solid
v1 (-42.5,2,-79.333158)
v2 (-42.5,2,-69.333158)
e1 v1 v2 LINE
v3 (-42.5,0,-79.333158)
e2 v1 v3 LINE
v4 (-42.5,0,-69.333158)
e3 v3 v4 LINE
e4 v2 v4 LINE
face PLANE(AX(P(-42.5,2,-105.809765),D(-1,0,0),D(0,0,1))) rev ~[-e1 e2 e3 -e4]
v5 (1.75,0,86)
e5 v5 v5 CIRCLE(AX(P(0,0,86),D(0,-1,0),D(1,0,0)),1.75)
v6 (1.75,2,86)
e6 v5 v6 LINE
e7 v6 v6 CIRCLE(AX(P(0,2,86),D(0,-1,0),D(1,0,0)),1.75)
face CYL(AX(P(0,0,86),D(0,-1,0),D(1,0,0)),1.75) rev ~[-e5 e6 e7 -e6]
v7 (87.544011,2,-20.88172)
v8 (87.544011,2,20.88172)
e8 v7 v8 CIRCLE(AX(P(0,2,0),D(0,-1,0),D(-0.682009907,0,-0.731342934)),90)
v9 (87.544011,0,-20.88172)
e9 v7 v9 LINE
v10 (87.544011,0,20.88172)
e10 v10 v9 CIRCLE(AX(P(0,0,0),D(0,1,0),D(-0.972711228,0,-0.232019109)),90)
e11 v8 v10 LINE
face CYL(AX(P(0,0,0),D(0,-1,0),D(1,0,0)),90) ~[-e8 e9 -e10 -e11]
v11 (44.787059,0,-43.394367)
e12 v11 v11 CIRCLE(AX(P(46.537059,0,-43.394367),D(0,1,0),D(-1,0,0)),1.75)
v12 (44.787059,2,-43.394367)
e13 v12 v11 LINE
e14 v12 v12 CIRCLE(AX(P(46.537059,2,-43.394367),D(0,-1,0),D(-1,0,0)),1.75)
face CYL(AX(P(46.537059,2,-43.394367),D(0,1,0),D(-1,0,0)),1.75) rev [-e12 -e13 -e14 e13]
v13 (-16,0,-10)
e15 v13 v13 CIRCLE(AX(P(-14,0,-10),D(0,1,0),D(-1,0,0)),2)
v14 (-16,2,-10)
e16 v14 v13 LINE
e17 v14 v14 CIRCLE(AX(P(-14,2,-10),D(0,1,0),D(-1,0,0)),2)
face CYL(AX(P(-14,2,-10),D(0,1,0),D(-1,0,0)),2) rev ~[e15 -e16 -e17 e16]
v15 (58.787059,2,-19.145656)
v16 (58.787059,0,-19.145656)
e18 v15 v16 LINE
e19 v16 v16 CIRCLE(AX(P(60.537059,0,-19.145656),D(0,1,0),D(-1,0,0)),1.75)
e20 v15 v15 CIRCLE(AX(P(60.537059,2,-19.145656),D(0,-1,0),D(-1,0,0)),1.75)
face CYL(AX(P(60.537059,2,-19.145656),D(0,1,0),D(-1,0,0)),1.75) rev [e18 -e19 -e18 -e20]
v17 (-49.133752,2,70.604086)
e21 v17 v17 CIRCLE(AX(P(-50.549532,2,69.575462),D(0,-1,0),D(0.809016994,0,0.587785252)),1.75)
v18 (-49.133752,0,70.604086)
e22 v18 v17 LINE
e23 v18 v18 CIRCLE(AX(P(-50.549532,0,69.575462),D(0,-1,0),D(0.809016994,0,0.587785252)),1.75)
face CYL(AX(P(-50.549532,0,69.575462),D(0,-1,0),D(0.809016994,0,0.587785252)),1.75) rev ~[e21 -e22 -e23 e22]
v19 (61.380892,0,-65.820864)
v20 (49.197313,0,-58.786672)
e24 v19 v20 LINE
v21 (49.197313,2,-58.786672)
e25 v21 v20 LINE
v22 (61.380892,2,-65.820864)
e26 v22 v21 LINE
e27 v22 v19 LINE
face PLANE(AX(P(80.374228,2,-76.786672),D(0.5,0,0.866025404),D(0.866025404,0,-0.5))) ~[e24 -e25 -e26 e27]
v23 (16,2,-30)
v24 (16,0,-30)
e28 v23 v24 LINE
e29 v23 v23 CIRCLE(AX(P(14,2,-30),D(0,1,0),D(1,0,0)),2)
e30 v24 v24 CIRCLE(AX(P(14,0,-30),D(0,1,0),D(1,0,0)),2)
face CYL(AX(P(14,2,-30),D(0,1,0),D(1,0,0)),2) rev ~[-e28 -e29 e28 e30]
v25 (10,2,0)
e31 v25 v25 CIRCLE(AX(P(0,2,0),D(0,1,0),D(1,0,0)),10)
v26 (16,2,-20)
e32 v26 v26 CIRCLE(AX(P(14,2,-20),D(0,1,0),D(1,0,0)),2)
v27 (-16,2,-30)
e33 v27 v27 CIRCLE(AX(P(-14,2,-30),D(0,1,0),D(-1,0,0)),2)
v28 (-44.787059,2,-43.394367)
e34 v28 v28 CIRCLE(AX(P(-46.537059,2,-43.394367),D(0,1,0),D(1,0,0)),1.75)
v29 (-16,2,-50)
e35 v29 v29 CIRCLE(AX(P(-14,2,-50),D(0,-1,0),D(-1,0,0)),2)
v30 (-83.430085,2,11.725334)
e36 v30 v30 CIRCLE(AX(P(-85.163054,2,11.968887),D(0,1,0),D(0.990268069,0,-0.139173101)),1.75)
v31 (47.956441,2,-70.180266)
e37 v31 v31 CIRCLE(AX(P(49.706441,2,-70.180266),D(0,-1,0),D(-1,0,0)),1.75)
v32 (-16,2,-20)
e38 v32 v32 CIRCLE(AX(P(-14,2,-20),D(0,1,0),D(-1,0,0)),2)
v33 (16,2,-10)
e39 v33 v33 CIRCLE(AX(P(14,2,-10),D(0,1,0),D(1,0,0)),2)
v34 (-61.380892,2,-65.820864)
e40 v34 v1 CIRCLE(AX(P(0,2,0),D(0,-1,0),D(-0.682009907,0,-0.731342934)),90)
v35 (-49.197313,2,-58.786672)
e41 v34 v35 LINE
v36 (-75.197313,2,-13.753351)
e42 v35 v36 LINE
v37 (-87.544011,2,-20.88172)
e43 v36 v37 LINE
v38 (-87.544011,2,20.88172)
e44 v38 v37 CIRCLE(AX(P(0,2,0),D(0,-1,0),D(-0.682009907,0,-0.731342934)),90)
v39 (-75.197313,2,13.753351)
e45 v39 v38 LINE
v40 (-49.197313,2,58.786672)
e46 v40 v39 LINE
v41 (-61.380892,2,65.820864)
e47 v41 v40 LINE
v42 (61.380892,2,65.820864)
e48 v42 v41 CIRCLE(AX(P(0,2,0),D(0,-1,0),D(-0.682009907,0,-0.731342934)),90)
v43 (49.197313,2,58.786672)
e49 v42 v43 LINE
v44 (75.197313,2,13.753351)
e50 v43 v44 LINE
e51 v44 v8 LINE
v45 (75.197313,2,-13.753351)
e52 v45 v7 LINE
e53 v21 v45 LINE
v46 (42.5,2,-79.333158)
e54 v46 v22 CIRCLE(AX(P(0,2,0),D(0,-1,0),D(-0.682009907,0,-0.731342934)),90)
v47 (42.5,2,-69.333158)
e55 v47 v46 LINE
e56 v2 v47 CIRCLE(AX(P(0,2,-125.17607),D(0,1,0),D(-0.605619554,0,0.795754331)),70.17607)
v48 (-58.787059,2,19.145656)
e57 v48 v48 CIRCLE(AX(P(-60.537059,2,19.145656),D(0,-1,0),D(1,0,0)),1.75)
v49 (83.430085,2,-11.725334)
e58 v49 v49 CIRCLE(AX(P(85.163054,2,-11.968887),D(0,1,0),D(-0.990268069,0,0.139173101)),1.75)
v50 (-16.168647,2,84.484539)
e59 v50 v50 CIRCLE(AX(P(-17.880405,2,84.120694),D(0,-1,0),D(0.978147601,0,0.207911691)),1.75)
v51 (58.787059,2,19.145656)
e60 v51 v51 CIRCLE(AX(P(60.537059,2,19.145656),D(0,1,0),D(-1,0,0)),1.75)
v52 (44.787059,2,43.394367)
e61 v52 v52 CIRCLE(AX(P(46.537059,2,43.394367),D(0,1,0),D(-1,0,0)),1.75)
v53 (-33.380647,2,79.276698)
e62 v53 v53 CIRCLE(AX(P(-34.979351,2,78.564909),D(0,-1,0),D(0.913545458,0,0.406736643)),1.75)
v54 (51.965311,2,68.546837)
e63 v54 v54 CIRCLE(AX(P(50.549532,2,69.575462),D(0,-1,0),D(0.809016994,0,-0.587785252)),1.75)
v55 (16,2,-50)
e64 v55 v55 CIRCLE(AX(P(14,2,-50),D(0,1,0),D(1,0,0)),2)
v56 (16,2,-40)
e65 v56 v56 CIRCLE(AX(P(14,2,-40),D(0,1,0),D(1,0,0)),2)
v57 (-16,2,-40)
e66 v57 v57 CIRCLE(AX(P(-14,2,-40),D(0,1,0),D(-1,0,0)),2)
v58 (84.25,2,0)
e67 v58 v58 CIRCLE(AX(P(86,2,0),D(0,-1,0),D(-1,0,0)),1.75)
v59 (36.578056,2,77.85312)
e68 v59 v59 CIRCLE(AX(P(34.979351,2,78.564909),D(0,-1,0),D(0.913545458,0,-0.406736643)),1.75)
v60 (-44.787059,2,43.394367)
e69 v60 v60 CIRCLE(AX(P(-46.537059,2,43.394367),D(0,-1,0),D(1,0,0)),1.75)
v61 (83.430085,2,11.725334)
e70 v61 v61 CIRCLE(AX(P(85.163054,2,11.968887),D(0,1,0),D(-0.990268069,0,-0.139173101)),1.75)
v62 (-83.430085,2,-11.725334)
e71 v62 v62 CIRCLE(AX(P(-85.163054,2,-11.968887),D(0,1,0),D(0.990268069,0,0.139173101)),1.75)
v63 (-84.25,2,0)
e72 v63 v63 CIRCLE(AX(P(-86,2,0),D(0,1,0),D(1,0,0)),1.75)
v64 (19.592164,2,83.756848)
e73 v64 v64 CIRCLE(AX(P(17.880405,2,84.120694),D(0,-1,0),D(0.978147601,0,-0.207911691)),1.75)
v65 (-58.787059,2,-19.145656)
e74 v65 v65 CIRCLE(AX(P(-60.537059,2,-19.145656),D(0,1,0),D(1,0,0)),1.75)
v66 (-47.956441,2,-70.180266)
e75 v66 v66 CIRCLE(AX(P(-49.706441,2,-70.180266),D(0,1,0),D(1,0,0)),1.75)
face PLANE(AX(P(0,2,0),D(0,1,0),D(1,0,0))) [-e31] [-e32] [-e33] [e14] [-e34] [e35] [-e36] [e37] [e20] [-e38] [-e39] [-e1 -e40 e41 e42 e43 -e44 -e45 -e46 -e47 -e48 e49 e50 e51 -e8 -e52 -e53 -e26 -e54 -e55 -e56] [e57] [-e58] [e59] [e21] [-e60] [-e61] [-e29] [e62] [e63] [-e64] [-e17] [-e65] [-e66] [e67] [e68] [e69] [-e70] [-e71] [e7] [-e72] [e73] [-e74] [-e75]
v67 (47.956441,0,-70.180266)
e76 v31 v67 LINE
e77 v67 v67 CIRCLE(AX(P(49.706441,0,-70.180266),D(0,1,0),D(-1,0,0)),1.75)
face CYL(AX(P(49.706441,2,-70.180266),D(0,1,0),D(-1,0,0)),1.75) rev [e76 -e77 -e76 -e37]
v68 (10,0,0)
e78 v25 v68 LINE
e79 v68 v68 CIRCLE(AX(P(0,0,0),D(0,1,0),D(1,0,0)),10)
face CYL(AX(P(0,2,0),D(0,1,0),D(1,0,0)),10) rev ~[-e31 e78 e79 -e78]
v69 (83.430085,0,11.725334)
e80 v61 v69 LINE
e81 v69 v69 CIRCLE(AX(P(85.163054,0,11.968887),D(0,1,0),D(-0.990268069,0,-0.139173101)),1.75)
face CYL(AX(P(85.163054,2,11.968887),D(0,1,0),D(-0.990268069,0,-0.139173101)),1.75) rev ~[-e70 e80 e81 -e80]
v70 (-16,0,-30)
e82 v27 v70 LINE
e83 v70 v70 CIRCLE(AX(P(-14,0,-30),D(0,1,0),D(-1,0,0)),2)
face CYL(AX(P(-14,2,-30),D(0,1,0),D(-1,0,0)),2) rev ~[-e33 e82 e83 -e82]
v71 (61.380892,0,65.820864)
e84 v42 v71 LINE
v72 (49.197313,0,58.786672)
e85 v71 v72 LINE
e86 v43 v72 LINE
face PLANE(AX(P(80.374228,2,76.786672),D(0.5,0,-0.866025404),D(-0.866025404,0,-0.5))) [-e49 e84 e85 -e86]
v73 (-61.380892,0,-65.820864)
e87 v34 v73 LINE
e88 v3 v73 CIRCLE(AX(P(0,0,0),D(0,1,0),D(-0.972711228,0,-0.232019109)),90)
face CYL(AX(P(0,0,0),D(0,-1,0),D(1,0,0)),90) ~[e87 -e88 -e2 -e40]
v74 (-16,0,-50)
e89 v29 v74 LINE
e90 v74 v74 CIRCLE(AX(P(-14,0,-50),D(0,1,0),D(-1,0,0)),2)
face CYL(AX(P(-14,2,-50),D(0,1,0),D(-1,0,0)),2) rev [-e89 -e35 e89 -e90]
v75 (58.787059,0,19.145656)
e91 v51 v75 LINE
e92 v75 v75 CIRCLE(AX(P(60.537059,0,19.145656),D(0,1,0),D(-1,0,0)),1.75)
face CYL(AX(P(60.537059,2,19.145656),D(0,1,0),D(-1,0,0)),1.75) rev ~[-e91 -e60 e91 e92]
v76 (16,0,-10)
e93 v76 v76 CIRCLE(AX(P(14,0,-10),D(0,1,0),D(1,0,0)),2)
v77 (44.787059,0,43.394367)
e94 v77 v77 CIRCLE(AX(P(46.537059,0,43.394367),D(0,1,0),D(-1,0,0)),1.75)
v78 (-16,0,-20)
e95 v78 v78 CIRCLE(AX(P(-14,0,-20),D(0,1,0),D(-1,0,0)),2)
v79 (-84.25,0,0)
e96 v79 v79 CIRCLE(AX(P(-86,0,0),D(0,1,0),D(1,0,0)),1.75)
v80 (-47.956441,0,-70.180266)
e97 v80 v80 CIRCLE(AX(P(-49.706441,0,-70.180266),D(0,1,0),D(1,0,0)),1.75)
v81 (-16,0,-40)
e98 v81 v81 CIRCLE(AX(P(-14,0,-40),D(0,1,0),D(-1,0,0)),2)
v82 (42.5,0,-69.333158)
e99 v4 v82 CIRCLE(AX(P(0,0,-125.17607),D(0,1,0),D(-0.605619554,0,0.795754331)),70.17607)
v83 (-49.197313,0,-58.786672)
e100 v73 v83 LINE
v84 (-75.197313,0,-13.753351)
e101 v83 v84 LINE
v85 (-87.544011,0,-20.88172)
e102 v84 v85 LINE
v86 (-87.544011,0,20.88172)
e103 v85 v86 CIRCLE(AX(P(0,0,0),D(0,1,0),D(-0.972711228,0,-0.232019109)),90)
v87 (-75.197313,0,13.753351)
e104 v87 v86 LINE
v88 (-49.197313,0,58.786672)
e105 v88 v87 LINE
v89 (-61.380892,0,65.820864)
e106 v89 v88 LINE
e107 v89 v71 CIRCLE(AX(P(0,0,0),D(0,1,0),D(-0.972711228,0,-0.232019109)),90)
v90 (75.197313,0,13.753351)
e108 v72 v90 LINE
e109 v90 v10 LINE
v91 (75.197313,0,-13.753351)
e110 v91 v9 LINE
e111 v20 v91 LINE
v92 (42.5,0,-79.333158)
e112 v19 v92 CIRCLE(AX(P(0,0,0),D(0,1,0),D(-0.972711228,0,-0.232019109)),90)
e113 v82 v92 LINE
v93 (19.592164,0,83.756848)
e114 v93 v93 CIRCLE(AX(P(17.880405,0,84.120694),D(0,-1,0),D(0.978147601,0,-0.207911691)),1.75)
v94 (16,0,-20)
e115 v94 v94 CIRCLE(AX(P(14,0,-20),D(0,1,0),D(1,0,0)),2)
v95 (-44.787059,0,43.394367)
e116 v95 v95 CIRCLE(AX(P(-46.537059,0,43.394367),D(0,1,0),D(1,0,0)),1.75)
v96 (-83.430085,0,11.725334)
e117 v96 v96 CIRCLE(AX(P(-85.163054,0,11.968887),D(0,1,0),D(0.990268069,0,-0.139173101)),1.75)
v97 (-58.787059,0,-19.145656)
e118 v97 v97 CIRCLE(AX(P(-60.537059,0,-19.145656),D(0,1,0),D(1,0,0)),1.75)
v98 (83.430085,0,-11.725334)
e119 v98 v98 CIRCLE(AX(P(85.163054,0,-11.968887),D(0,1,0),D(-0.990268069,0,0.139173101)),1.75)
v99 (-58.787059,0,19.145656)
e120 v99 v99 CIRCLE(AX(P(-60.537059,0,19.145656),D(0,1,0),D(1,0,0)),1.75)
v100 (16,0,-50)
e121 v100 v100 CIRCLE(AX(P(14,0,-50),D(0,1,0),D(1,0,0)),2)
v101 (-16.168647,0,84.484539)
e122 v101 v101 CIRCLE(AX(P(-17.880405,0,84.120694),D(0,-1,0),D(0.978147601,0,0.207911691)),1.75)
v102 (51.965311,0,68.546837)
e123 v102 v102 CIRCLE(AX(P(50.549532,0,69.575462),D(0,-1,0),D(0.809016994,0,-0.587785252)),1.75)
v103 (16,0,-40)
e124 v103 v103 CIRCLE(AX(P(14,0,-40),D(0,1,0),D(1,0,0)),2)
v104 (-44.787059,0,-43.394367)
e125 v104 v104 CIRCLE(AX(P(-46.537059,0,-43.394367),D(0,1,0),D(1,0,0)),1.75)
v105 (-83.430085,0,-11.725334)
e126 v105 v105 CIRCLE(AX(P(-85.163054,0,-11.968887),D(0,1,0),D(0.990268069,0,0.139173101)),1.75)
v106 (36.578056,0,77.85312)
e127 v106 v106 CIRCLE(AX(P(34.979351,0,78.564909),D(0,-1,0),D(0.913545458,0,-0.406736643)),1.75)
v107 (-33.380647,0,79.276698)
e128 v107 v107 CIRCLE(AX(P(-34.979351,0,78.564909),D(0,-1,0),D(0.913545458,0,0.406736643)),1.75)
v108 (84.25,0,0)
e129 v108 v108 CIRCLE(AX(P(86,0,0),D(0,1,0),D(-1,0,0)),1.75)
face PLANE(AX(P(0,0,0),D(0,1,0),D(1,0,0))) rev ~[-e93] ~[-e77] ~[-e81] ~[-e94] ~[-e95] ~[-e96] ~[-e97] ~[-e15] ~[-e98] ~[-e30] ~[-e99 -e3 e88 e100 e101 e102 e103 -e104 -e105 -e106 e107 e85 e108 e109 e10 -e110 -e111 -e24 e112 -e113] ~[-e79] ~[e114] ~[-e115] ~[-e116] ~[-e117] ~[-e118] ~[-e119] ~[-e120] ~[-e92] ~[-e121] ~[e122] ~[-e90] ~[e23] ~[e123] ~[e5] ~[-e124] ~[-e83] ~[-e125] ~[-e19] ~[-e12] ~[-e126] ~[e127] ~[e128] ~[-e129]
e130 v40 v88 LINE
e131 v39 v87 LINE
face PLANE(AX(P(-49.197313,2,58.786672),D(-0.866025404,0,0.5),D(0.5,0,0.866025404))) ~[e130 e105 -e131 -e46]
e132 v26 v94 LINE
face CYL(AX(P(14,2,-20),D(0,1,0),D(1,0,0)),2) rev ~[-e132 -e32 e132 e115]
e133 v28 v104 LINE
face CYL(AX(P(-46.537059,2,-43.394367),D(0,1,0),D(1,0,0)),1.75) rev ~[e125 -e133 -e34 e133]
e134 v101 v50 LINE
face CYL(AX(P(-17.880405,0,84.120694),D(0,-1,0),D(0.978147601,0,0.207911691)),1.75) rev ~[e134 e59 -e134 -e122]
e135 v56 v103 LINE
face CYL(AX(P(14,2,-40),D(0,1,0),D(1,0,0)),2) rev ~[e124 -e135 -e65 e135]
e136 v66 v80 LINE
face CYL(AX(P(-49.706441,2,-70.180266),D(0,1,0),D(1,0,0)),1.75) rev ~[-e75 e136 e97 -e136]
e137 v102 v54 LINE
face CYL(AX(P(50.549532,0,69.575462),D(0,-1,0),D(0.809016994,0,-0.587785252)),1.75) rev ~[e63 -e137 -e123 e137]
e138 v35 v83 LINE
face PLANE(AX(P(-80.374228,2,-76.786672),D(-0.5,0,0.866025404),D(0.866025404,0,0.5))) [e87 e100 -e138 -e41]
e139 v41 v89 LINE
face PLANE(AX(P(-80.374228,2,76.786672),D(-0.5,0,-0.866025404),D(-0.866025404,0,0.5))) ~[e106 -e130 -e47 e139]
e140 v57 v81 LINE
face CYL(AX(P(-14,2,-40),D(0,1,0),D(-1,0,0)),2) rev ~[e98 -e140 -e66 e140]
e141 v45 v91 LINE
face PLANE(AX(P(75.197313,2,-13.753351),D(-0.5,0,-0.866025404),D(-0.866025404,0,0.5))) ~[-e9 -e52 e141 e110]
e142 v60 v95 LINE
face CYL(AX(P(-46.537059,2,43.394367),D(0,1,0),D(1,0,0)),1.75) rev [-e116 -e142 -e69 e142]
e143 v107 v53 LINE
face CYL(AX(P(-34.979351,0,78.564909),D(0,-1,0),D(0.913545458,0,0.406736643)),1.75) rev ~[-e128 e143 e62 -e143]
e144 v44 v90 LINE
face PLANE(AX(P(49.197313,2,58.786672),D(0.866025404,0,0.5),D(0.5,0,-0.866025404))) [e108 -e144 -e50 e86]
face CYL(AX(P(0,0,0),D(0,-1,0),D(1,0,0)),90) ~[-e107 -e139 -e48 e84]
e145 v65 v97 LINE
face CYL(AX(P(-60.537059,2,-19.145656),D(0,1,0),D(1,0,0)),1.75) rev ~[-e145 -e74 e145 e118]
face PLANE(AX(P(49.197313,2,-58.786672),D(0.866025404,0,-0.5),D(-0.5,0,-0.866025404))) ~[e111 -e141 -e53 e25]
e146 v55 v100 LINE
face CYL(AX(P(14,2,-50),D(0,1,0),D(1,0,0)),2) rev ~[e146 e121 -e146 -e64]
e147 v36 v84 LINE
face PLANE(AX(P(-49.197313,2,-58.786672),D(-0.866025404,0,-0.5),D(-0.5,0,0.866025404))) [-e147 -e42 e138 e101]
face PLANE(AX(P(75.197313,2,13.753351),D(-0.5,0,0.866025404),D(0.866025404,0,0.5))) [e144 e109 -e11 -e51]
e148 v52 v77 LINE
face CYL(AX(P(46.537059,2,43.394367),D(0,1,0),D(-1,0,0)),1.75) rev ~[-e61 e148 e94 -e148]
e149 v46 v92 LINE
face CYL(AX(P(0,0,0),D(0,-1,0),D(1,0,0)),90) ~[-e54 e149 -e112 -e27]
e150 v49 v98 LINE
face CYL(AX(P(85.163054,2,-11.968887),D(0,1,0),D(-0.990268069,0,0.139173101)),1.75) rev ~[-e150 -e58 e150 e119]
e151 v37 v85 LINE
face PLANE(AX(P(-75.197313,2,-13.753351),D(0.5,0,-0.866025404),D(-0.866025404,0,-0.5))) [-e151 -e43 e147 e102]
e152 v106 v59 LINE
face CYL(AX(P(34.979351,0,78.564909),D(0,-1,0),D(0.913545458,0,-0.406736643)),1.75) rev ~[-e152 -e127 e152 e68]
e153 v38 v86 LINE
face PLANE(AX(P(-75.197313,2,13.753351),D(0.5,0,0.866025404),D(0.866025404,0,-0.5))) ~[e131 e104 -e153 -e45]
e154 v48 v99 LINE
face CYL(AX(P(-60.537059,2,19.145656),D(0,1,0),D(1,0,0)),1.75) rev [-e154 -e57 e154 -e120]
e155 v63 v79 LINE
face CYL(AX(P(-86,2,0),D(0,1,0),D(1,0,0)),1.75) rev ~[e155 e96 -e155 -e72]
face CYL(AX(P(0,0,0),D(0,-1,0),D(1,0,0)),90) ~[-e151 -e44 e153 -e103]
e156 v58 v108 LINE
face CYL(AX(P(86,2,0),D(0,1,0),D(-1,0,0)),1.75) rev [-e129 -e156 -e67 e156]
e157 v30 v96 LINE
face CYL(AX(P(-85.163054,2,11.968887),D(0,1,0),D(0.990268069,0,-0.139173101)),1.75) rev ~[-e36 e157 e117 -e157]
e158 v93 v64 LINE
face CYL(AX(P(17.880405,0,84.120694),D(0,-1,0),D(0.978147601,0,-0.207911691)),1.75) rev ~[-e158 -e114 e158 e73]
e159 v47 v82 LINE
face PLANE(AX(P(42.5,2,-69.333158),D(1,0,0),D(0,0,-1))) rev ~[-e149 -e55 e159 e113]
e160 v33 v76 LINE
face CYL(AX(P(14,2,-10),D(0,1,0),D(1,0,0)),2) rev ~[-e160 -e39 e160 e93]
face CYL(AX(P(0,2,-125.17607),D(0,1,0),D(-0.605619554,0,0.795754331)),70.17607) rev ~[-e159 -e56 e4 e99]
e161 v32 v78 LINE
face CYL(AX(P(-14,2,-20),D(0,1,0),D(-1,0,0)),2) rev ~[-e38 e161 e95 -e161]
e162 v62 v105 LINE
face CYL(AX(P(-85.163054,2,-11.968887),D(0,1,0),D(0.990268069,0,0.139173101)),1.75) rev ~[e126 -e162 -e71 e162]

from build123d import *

# Parameters (mm, degrees)
SKETCH1_R                       = 90
BOSS_EXTRUDE1_DEPTH             = 2
CUT_EXTRUDE1_DEPTH              = 3
SKETCH5_R                       = 1.75
CUT_EXTRUDE3_DEPTH              = 3
MIRROR2_COPY_1_DEPTH            = 3
MIRROR2_COPY_2_SKETCH_R         = 1.75
MIRROR2_COPY_2_DEPTH            = 3
CUT_EXTRUDE2_DEPTH              = 3
SKETCH6_R                       = 10
CUT_EXTRUDE4_DEPTH              = 3
SKETCH7_R                       = 1.75
CUT_EXTRUDE5_DEPTH              = 3
CIRPATTERN1_COUNT               = 4
CIRPATTERN1_ANGLE               = 36
CIRPATTERN1_THE_OTHER_WAY_COUNT = 4
CIRPATTERN1_THE_OTHER_WAY_ANGLE = 36
SKETCH8_R                       = 1.75
CUT_EXTRUDE6_DEPTH              = 3
SKETCH9_R                       = 1.75
CUT_EXTRUDE7_DEPTH              = 3
CIRPATTERN2_COUNT               = 2
CIRPATTERN2_ANGLE               = 8
CIRPATTERN2_THE_OTHER_WAY_COUNT = 2
CIRPATTERN2_THE_OTHER_WAY_ANGLE = 8
MIRROR3_COPY_1_SKETCH_R         = 1.75
MIRROR3_COPY_1_DEPTH            = 3
MIRROR3_COPY_2_SKETCH_R         = 1.75
MIRROR3_COPY_2_DEPTH            = 3
SKETCH10_R                      = 2
CUT_EXTRUDE8_DEPTH              = 3
LPATTERN1_COUNT                 = 5
LPATTERN1_PITCH                 = 10
LPATTERN1_COPY_1_SKETCH_R       = 2
LPATTERN1_COPY_1_DEPTH          = 3
LPATTERN1_COPY_2_SKETCH_R       = 2
LPATTERN1_COPY_2_DEPTH          = 3
LPATTERN1_COPY_3_SKETCH_R       = 2
LPATTERN1_COPY_3_DEPTH          = 3
LPATTERN1_COPY_4_SKETCH_R       = 2
LPATTERN1_COPY_4_DEPTH          = 3


with BuildPart() as part:
    # Sketch1 → Boss-Extrude1 (new body)
    with BuildSketch(Plane(origin=(0, 0, 0), x_dir=(1, 0, 0), z_dir=(0, 1, 0))):
        Circle(SKETCH1_R)
    extrude(amount=BOSS_EXTRUDE1_DEPTH)

    # Sketch3 → Cut-Extrude1 (cut, through all)
    with BuildSketch(Plane(origin=(0, 2, 0), x_dir=(1, 0, 0), z_dir=(0, 1, 0))):
        Polygon((-106.374227687, 31.753350771), (-80.374227687, 76.786671768), (-49.197313151, 58.786671768), (-75.197313151, 13.753350771), align=None)
    cut_extrude1 = extrude(amount=-CUT_EXTRUDE1_DEPTH, mode=Mode.SUBTRACT)

    # Sketch5 → Cut-Extrude3 (cut, through all)
    with BuildSketch(Plane(origin=(0, 2, 0), x_dir=(1, 0, 0), z_dir=(0, 1, 0))):
        with Locations((-60.537059113, 19.145655616)):
            Circle(SKETCH5_R)
        with Locations((-46.537059113, 43.394366922)):
            Circle(SKETCH5_R)
    cut_extrude3 = extrude(amount=-CUT_EXTRUDE3_DEPTH, mode=Mode.SUBTRACT)

    # Mirror1: Cut-Extrude1, Cut-Extrude3 across plane
    add(cut_extrude1.mirror(Plane.XY), mode=Mode.SUBTRACT)
    add(cut_extrude3.mirror(Plane.XY), mode=Mode.SUBTRACT)

    # Mirror2: Cut-Extrude1, Cut-Extrude3 across plane
    add(cut_extrude1.mirror(Plane(origin=(0, 0, 0), x_dir=(0, 0, 1), z_dir=(1, 0, 0))), mode=Mode.SUBTRACT)
    add(cut_extrude3.mirror(Plane(origin=(0, 0, 0), x_dir=(0, 0, 1), z_dir=(1, 0, 0))), mode=Mode.SUBTRACT)

    # Mirror2 copy 1 sketch → Mirror2 copy 1 (cut, through all)
    with BuildSketch(Plane(origin=(0, 2, 0), x_dir=(-1, 0, 0), z_dir=(0, 1, 0))):
        Polygon((-106.374227687, 31.753350771), (-80.374227687, 76.786671768), (-49.197313151, 58.786671768), (-75.197313151, 13.753350771), align=None)
    extrude(amount=-MIRROR2_COPY_1_DEPTH, mode=Mode.SUBTRACT)

    # Mirror2 copy 2 sketch → Mirror2 copy 2 (cut, through all)
    with BuildSketch(Plane(origin=(0, 2, 0), x_dir=(-1, 0, 0), z_dir=(0, 1, 0))):
        with Locations((-60.537059113, 19.145655616)):
            Circle(MIRROR2_COPY_2_SKETCH_R)
        with Locations((-46.537059113, 43.394366922)):
            Circle(MIRROR2_COPY_2_SKETCH_R)
    extrude(amount=-MIRROR2_COPY_2_DEPTH, mode=Mode.SUBTRACT)

    # Sketch4 → Cut-Extrude2 (cut, through all)
    with BuildSketch(Plane(origin=(0, 2, 0), x_dir=(1, 0, 0), z_dir=(0, 1, 0))):
        with BuildLine():
            Line((-42.5, 79.333158263), (-42.5, 69.333158263))
            ThreePointArc((-42.5, 69.333158263), (0, 55), (42.5, 69.333158263))
            Line((42.5, 69.333158263), (42.5, 79.333158263))
            Line((42.5, 79.333158263), (42.5, 105.809765059))
            Line((42.5, 105.809765059), (-42.5, 105.809765059))
            Line((-42.5, 105.809765059), (-42.5, 79.333158263))
        make_face()
    extrude(amount=-CUT_EXTRUDE2_DEPTH, mode=Mode.SUBTRACT)

    # Sketch6 → Cut-Extrude4 (cut, through all)
    with BuildSketch(Plane(origin=(0, 2, 0), x_dir=(1, 0, 0), z_dir=(0, 1, 0))):
        Circle(SKETCH6_R)
    extrude(amount=-CUT_EXTRUDE4_DEPTH, mode=Mode.SUBTRACT)

    # Sketch7 → Cut-Extrude5 (cut, through all)
    with BuildSketch(Plane.XZ):
        with Locations((0, 86)):
            Circle(SKETCH7_R)
    cut_extrude5 = extrude(amount=-CUT_EXTRUDE5_DEPTH, mode=Mode.SUBTRACT)

    # CirPattern1: Cut-Extrude5 ×4 about axis
    cirpattern1_axis = Axis((0, 0, 0), (0, 1, 0))
    for i in range(1, CIRPATTERN1_COUNT):
        add(cut_extrude5.rotate(cirpattern1_axis, i * CIRPATTERN1_ANGLE / (CIRPATTERN1_COUNT - 1)), mode=Mode.SUBTRACT)

    # CirPattern1 the other way: Cut-Extrude5 ×4 about axis
    cirpattern1_the_other_way_axis = Axis((0, 0, 0), (0, -1, 0))
    for i in range(1, CIRPATTERN1_THE_OTHER_WAY_COUNT):
        add(cut_extrude5.rotate(cirpattern1_the_other_way_axis, i * CIRPATTERN1_THE_OTHER_WAY_ANGLE / (CIRPATTERN1_THE_OTHER_WAY_COUNT - 1)), mode=Mode.SUBTRACT)

    # Sketch8 → Cut-Extrude6 (cut, through all)
    with BuildSketch(Plane(origin=(0, 2, 0), x_dir=(1, 0, 0), z_dir=(0, 1, 0))):
        with Locations((-86, 0)):
            Circle(SKETCH8_R)
    cut_extrude6 = extrude(amount=-CUT_EXTRUDE6_DEPTH, mode=Mode.SUBTRACT)

    # Sketch9 → Cut-Extrude7 (cut, through all)
    with BuildSketch(Plane(origin=(0, 2, 0), x_dir=(1, 0, 0), z_dir=(0, 1, 0))):
        with Locations((-49.706440821, 70.180266036)):
            Circle(SKETCH9_R)
    cut_extrude7 = extrude(amount=-CUT_EXTRUDE7_DEPTH, mode=Mode.SUBTRACT)

    # CirPattern2: Cut-Extrude6 ×2 about axis
    cirpattern2_axis = Axis((0, 2, 0), (0, 1, 0))
    for i in range(1, CIRPATTERN2_COUNT):
        add(cut_extrude6.rotate(cirpattern2_axis, i * CIRPATTERN2_ANGLE / (CIRPATTERN2_COUNT - 1)), mode=Mode.SUBTRACT)

    # CirPattern2 the other way: Cut-Extrude6 ×2 about axis
    cirpattern2_the_other_way_axis = Axis((0, 2, 0), (0, -1, 0))
    for i in range(1, CIRPATTERN2_THE_OTHER_WAY_COUNT):
        add(cut_extrude6.rotate(cirpattern2_the_other_way_axis, i * CIRPATTERN2_THE_OTHER_WAY_ANGLE / (CIRPATTERN2_THE_OTHER_WAY_COUNT - 1)), mode=Mode.SUBTRACT)

    # Mirror3: Cut-Extrude7, Cut-Extrude6 across plane
    add(cut_extrude7.mirror(Plane(origin=(0, 0, 0), x_dir=(0, 0, 1), z_dir=(1, 0, 0))), mode=Mode.SUBTRACT)
    add(cut_extrude6.mirror(Plane(origin=(0, 0, 0), x_dir=(0, 0, 1), z_dir=(1, 0, 0))), mode=Mode.SUBTRACT)

    # Mirror3 copy 1 sketch → Mirror3 copy 1 (cut, through all)
    with BuildSketch(Plane(origin=(0, 2, 0), x_dir=(-0.990268069, 0, -0.139173101), z_dir=(0, 1, 0))):
        with Locations((-86, 0)):
            Circle(MIRROR3_COPY_1_SKETCH_R)
    extrude(amount=-MIRROR3_COPY_1_DEPTH, mode=Mode.SUBTRACT)

    # Mirror3 copy 2 sketch → Mirror3 copy 2 (cut, through all)
    with BuildSketch(Plane(origin=(0, 2, 0), x_dir=(-0.990268069, 0, 0.139173101), z_dir=(0, 1, 0))):
        with Locations((-86, 0)):
            Circle(MIRROR3_COPY_2_SKETCH_R)
    extrude(amount=-MIRROR3_COPY_2_DEPTH, mode=Mode.SUBTRACT)

    # Sketch10 → Cut-Extrude8 (cut, through all)
    with BuildSketch(Plane(origin=(0, 2, 0), x_dir=(1, 0, 0), z_dir=(0, 1, 0))):
        with Locations((14, 50)):
            Circle(SKETCH10_R)
    cut_extrude8 = extrude(amount=-CUT_EXTRUDE8_DEPTH, mode=Mode.SUBTRACT)

    # Mirror4: Cut-Extrude8 across plane
    add(cut_extrude8.mirror(Plane(origin=(0, 0, 0), x_dir=(0, 0, 1), z_dir=(1, 0, 0))), mode=Mode.SUBTRACT)

    # LPattern1: Cut-Extrude8 ×5
    with Locations(*[(0, 0, i * LPATTERN1_PITCH) for i in range(1, LPATTERN1_COUNT)]):
        add(cut_extrude8, mode=Mode.SUBTRACT)

    # LPattern1 copy 1 sketch → LPattern1 copy 1 (cut, through all)
    with BuildSketch(Plane(origin=(0, 2, 10), x_dir=(-1, 0, 0), z_dir=(0, 1, 0))):
        with Locations((14, -50)):
            Circle(LPATTERN1_COPY_1_SKETCH_R)
    extrude(amount=-LPATTERN1_COPY_1_DEPTH, mode=Mode.SUBTRACT)

    # LPattern1 copy 2 sketch → LPattern1 copy 2 (cut, through all)
    with BuildSketch(Plane(origin=(0, 2, 20), x_dir=(-1, 0, 0), z_dir=(0, 1, 0))):
        with Locations((14, -50)):
            Circle(LPATTERN1_COPY_2_SKETCH_R)
    extrude(amount=-LPATTERN1_COPY_2_DEPTH, mode=Mode.SUBTRACT)

    # LPattern1 copy 3 sketch → LPattern1 copy 3 (cut, through all)
    with BuildSketch(Plane(origin=(0, 2, 30), x_dir=(-1, 0, 0), z_dir=(0, 1, 0))):
        with Locations((14, -50)):
            Circle(LPATTERN1_COPY_3_SKETCH_R)
    extrude(amount=-LPATTERN1_COPY_3_DEPTH, mode=Mode.SUBTRACT)

    # LPattern1 copy 4 sketch → LPattern1 copy 4 (cut, through all)
    with BuildSketch(Plane(origin=(0, 2, 40), x_dir=(-1, 0, 0), z_dir=(0, 1, 0))):
        with Locations((14, -50)):
            Circle(LPATTERN1_COPY_4_SKETCH_R)
    extrude(amount=-LPATTERN1_COPY_4_DEPTH, mode=Mode.SUBTRACT)


solid = part.part
